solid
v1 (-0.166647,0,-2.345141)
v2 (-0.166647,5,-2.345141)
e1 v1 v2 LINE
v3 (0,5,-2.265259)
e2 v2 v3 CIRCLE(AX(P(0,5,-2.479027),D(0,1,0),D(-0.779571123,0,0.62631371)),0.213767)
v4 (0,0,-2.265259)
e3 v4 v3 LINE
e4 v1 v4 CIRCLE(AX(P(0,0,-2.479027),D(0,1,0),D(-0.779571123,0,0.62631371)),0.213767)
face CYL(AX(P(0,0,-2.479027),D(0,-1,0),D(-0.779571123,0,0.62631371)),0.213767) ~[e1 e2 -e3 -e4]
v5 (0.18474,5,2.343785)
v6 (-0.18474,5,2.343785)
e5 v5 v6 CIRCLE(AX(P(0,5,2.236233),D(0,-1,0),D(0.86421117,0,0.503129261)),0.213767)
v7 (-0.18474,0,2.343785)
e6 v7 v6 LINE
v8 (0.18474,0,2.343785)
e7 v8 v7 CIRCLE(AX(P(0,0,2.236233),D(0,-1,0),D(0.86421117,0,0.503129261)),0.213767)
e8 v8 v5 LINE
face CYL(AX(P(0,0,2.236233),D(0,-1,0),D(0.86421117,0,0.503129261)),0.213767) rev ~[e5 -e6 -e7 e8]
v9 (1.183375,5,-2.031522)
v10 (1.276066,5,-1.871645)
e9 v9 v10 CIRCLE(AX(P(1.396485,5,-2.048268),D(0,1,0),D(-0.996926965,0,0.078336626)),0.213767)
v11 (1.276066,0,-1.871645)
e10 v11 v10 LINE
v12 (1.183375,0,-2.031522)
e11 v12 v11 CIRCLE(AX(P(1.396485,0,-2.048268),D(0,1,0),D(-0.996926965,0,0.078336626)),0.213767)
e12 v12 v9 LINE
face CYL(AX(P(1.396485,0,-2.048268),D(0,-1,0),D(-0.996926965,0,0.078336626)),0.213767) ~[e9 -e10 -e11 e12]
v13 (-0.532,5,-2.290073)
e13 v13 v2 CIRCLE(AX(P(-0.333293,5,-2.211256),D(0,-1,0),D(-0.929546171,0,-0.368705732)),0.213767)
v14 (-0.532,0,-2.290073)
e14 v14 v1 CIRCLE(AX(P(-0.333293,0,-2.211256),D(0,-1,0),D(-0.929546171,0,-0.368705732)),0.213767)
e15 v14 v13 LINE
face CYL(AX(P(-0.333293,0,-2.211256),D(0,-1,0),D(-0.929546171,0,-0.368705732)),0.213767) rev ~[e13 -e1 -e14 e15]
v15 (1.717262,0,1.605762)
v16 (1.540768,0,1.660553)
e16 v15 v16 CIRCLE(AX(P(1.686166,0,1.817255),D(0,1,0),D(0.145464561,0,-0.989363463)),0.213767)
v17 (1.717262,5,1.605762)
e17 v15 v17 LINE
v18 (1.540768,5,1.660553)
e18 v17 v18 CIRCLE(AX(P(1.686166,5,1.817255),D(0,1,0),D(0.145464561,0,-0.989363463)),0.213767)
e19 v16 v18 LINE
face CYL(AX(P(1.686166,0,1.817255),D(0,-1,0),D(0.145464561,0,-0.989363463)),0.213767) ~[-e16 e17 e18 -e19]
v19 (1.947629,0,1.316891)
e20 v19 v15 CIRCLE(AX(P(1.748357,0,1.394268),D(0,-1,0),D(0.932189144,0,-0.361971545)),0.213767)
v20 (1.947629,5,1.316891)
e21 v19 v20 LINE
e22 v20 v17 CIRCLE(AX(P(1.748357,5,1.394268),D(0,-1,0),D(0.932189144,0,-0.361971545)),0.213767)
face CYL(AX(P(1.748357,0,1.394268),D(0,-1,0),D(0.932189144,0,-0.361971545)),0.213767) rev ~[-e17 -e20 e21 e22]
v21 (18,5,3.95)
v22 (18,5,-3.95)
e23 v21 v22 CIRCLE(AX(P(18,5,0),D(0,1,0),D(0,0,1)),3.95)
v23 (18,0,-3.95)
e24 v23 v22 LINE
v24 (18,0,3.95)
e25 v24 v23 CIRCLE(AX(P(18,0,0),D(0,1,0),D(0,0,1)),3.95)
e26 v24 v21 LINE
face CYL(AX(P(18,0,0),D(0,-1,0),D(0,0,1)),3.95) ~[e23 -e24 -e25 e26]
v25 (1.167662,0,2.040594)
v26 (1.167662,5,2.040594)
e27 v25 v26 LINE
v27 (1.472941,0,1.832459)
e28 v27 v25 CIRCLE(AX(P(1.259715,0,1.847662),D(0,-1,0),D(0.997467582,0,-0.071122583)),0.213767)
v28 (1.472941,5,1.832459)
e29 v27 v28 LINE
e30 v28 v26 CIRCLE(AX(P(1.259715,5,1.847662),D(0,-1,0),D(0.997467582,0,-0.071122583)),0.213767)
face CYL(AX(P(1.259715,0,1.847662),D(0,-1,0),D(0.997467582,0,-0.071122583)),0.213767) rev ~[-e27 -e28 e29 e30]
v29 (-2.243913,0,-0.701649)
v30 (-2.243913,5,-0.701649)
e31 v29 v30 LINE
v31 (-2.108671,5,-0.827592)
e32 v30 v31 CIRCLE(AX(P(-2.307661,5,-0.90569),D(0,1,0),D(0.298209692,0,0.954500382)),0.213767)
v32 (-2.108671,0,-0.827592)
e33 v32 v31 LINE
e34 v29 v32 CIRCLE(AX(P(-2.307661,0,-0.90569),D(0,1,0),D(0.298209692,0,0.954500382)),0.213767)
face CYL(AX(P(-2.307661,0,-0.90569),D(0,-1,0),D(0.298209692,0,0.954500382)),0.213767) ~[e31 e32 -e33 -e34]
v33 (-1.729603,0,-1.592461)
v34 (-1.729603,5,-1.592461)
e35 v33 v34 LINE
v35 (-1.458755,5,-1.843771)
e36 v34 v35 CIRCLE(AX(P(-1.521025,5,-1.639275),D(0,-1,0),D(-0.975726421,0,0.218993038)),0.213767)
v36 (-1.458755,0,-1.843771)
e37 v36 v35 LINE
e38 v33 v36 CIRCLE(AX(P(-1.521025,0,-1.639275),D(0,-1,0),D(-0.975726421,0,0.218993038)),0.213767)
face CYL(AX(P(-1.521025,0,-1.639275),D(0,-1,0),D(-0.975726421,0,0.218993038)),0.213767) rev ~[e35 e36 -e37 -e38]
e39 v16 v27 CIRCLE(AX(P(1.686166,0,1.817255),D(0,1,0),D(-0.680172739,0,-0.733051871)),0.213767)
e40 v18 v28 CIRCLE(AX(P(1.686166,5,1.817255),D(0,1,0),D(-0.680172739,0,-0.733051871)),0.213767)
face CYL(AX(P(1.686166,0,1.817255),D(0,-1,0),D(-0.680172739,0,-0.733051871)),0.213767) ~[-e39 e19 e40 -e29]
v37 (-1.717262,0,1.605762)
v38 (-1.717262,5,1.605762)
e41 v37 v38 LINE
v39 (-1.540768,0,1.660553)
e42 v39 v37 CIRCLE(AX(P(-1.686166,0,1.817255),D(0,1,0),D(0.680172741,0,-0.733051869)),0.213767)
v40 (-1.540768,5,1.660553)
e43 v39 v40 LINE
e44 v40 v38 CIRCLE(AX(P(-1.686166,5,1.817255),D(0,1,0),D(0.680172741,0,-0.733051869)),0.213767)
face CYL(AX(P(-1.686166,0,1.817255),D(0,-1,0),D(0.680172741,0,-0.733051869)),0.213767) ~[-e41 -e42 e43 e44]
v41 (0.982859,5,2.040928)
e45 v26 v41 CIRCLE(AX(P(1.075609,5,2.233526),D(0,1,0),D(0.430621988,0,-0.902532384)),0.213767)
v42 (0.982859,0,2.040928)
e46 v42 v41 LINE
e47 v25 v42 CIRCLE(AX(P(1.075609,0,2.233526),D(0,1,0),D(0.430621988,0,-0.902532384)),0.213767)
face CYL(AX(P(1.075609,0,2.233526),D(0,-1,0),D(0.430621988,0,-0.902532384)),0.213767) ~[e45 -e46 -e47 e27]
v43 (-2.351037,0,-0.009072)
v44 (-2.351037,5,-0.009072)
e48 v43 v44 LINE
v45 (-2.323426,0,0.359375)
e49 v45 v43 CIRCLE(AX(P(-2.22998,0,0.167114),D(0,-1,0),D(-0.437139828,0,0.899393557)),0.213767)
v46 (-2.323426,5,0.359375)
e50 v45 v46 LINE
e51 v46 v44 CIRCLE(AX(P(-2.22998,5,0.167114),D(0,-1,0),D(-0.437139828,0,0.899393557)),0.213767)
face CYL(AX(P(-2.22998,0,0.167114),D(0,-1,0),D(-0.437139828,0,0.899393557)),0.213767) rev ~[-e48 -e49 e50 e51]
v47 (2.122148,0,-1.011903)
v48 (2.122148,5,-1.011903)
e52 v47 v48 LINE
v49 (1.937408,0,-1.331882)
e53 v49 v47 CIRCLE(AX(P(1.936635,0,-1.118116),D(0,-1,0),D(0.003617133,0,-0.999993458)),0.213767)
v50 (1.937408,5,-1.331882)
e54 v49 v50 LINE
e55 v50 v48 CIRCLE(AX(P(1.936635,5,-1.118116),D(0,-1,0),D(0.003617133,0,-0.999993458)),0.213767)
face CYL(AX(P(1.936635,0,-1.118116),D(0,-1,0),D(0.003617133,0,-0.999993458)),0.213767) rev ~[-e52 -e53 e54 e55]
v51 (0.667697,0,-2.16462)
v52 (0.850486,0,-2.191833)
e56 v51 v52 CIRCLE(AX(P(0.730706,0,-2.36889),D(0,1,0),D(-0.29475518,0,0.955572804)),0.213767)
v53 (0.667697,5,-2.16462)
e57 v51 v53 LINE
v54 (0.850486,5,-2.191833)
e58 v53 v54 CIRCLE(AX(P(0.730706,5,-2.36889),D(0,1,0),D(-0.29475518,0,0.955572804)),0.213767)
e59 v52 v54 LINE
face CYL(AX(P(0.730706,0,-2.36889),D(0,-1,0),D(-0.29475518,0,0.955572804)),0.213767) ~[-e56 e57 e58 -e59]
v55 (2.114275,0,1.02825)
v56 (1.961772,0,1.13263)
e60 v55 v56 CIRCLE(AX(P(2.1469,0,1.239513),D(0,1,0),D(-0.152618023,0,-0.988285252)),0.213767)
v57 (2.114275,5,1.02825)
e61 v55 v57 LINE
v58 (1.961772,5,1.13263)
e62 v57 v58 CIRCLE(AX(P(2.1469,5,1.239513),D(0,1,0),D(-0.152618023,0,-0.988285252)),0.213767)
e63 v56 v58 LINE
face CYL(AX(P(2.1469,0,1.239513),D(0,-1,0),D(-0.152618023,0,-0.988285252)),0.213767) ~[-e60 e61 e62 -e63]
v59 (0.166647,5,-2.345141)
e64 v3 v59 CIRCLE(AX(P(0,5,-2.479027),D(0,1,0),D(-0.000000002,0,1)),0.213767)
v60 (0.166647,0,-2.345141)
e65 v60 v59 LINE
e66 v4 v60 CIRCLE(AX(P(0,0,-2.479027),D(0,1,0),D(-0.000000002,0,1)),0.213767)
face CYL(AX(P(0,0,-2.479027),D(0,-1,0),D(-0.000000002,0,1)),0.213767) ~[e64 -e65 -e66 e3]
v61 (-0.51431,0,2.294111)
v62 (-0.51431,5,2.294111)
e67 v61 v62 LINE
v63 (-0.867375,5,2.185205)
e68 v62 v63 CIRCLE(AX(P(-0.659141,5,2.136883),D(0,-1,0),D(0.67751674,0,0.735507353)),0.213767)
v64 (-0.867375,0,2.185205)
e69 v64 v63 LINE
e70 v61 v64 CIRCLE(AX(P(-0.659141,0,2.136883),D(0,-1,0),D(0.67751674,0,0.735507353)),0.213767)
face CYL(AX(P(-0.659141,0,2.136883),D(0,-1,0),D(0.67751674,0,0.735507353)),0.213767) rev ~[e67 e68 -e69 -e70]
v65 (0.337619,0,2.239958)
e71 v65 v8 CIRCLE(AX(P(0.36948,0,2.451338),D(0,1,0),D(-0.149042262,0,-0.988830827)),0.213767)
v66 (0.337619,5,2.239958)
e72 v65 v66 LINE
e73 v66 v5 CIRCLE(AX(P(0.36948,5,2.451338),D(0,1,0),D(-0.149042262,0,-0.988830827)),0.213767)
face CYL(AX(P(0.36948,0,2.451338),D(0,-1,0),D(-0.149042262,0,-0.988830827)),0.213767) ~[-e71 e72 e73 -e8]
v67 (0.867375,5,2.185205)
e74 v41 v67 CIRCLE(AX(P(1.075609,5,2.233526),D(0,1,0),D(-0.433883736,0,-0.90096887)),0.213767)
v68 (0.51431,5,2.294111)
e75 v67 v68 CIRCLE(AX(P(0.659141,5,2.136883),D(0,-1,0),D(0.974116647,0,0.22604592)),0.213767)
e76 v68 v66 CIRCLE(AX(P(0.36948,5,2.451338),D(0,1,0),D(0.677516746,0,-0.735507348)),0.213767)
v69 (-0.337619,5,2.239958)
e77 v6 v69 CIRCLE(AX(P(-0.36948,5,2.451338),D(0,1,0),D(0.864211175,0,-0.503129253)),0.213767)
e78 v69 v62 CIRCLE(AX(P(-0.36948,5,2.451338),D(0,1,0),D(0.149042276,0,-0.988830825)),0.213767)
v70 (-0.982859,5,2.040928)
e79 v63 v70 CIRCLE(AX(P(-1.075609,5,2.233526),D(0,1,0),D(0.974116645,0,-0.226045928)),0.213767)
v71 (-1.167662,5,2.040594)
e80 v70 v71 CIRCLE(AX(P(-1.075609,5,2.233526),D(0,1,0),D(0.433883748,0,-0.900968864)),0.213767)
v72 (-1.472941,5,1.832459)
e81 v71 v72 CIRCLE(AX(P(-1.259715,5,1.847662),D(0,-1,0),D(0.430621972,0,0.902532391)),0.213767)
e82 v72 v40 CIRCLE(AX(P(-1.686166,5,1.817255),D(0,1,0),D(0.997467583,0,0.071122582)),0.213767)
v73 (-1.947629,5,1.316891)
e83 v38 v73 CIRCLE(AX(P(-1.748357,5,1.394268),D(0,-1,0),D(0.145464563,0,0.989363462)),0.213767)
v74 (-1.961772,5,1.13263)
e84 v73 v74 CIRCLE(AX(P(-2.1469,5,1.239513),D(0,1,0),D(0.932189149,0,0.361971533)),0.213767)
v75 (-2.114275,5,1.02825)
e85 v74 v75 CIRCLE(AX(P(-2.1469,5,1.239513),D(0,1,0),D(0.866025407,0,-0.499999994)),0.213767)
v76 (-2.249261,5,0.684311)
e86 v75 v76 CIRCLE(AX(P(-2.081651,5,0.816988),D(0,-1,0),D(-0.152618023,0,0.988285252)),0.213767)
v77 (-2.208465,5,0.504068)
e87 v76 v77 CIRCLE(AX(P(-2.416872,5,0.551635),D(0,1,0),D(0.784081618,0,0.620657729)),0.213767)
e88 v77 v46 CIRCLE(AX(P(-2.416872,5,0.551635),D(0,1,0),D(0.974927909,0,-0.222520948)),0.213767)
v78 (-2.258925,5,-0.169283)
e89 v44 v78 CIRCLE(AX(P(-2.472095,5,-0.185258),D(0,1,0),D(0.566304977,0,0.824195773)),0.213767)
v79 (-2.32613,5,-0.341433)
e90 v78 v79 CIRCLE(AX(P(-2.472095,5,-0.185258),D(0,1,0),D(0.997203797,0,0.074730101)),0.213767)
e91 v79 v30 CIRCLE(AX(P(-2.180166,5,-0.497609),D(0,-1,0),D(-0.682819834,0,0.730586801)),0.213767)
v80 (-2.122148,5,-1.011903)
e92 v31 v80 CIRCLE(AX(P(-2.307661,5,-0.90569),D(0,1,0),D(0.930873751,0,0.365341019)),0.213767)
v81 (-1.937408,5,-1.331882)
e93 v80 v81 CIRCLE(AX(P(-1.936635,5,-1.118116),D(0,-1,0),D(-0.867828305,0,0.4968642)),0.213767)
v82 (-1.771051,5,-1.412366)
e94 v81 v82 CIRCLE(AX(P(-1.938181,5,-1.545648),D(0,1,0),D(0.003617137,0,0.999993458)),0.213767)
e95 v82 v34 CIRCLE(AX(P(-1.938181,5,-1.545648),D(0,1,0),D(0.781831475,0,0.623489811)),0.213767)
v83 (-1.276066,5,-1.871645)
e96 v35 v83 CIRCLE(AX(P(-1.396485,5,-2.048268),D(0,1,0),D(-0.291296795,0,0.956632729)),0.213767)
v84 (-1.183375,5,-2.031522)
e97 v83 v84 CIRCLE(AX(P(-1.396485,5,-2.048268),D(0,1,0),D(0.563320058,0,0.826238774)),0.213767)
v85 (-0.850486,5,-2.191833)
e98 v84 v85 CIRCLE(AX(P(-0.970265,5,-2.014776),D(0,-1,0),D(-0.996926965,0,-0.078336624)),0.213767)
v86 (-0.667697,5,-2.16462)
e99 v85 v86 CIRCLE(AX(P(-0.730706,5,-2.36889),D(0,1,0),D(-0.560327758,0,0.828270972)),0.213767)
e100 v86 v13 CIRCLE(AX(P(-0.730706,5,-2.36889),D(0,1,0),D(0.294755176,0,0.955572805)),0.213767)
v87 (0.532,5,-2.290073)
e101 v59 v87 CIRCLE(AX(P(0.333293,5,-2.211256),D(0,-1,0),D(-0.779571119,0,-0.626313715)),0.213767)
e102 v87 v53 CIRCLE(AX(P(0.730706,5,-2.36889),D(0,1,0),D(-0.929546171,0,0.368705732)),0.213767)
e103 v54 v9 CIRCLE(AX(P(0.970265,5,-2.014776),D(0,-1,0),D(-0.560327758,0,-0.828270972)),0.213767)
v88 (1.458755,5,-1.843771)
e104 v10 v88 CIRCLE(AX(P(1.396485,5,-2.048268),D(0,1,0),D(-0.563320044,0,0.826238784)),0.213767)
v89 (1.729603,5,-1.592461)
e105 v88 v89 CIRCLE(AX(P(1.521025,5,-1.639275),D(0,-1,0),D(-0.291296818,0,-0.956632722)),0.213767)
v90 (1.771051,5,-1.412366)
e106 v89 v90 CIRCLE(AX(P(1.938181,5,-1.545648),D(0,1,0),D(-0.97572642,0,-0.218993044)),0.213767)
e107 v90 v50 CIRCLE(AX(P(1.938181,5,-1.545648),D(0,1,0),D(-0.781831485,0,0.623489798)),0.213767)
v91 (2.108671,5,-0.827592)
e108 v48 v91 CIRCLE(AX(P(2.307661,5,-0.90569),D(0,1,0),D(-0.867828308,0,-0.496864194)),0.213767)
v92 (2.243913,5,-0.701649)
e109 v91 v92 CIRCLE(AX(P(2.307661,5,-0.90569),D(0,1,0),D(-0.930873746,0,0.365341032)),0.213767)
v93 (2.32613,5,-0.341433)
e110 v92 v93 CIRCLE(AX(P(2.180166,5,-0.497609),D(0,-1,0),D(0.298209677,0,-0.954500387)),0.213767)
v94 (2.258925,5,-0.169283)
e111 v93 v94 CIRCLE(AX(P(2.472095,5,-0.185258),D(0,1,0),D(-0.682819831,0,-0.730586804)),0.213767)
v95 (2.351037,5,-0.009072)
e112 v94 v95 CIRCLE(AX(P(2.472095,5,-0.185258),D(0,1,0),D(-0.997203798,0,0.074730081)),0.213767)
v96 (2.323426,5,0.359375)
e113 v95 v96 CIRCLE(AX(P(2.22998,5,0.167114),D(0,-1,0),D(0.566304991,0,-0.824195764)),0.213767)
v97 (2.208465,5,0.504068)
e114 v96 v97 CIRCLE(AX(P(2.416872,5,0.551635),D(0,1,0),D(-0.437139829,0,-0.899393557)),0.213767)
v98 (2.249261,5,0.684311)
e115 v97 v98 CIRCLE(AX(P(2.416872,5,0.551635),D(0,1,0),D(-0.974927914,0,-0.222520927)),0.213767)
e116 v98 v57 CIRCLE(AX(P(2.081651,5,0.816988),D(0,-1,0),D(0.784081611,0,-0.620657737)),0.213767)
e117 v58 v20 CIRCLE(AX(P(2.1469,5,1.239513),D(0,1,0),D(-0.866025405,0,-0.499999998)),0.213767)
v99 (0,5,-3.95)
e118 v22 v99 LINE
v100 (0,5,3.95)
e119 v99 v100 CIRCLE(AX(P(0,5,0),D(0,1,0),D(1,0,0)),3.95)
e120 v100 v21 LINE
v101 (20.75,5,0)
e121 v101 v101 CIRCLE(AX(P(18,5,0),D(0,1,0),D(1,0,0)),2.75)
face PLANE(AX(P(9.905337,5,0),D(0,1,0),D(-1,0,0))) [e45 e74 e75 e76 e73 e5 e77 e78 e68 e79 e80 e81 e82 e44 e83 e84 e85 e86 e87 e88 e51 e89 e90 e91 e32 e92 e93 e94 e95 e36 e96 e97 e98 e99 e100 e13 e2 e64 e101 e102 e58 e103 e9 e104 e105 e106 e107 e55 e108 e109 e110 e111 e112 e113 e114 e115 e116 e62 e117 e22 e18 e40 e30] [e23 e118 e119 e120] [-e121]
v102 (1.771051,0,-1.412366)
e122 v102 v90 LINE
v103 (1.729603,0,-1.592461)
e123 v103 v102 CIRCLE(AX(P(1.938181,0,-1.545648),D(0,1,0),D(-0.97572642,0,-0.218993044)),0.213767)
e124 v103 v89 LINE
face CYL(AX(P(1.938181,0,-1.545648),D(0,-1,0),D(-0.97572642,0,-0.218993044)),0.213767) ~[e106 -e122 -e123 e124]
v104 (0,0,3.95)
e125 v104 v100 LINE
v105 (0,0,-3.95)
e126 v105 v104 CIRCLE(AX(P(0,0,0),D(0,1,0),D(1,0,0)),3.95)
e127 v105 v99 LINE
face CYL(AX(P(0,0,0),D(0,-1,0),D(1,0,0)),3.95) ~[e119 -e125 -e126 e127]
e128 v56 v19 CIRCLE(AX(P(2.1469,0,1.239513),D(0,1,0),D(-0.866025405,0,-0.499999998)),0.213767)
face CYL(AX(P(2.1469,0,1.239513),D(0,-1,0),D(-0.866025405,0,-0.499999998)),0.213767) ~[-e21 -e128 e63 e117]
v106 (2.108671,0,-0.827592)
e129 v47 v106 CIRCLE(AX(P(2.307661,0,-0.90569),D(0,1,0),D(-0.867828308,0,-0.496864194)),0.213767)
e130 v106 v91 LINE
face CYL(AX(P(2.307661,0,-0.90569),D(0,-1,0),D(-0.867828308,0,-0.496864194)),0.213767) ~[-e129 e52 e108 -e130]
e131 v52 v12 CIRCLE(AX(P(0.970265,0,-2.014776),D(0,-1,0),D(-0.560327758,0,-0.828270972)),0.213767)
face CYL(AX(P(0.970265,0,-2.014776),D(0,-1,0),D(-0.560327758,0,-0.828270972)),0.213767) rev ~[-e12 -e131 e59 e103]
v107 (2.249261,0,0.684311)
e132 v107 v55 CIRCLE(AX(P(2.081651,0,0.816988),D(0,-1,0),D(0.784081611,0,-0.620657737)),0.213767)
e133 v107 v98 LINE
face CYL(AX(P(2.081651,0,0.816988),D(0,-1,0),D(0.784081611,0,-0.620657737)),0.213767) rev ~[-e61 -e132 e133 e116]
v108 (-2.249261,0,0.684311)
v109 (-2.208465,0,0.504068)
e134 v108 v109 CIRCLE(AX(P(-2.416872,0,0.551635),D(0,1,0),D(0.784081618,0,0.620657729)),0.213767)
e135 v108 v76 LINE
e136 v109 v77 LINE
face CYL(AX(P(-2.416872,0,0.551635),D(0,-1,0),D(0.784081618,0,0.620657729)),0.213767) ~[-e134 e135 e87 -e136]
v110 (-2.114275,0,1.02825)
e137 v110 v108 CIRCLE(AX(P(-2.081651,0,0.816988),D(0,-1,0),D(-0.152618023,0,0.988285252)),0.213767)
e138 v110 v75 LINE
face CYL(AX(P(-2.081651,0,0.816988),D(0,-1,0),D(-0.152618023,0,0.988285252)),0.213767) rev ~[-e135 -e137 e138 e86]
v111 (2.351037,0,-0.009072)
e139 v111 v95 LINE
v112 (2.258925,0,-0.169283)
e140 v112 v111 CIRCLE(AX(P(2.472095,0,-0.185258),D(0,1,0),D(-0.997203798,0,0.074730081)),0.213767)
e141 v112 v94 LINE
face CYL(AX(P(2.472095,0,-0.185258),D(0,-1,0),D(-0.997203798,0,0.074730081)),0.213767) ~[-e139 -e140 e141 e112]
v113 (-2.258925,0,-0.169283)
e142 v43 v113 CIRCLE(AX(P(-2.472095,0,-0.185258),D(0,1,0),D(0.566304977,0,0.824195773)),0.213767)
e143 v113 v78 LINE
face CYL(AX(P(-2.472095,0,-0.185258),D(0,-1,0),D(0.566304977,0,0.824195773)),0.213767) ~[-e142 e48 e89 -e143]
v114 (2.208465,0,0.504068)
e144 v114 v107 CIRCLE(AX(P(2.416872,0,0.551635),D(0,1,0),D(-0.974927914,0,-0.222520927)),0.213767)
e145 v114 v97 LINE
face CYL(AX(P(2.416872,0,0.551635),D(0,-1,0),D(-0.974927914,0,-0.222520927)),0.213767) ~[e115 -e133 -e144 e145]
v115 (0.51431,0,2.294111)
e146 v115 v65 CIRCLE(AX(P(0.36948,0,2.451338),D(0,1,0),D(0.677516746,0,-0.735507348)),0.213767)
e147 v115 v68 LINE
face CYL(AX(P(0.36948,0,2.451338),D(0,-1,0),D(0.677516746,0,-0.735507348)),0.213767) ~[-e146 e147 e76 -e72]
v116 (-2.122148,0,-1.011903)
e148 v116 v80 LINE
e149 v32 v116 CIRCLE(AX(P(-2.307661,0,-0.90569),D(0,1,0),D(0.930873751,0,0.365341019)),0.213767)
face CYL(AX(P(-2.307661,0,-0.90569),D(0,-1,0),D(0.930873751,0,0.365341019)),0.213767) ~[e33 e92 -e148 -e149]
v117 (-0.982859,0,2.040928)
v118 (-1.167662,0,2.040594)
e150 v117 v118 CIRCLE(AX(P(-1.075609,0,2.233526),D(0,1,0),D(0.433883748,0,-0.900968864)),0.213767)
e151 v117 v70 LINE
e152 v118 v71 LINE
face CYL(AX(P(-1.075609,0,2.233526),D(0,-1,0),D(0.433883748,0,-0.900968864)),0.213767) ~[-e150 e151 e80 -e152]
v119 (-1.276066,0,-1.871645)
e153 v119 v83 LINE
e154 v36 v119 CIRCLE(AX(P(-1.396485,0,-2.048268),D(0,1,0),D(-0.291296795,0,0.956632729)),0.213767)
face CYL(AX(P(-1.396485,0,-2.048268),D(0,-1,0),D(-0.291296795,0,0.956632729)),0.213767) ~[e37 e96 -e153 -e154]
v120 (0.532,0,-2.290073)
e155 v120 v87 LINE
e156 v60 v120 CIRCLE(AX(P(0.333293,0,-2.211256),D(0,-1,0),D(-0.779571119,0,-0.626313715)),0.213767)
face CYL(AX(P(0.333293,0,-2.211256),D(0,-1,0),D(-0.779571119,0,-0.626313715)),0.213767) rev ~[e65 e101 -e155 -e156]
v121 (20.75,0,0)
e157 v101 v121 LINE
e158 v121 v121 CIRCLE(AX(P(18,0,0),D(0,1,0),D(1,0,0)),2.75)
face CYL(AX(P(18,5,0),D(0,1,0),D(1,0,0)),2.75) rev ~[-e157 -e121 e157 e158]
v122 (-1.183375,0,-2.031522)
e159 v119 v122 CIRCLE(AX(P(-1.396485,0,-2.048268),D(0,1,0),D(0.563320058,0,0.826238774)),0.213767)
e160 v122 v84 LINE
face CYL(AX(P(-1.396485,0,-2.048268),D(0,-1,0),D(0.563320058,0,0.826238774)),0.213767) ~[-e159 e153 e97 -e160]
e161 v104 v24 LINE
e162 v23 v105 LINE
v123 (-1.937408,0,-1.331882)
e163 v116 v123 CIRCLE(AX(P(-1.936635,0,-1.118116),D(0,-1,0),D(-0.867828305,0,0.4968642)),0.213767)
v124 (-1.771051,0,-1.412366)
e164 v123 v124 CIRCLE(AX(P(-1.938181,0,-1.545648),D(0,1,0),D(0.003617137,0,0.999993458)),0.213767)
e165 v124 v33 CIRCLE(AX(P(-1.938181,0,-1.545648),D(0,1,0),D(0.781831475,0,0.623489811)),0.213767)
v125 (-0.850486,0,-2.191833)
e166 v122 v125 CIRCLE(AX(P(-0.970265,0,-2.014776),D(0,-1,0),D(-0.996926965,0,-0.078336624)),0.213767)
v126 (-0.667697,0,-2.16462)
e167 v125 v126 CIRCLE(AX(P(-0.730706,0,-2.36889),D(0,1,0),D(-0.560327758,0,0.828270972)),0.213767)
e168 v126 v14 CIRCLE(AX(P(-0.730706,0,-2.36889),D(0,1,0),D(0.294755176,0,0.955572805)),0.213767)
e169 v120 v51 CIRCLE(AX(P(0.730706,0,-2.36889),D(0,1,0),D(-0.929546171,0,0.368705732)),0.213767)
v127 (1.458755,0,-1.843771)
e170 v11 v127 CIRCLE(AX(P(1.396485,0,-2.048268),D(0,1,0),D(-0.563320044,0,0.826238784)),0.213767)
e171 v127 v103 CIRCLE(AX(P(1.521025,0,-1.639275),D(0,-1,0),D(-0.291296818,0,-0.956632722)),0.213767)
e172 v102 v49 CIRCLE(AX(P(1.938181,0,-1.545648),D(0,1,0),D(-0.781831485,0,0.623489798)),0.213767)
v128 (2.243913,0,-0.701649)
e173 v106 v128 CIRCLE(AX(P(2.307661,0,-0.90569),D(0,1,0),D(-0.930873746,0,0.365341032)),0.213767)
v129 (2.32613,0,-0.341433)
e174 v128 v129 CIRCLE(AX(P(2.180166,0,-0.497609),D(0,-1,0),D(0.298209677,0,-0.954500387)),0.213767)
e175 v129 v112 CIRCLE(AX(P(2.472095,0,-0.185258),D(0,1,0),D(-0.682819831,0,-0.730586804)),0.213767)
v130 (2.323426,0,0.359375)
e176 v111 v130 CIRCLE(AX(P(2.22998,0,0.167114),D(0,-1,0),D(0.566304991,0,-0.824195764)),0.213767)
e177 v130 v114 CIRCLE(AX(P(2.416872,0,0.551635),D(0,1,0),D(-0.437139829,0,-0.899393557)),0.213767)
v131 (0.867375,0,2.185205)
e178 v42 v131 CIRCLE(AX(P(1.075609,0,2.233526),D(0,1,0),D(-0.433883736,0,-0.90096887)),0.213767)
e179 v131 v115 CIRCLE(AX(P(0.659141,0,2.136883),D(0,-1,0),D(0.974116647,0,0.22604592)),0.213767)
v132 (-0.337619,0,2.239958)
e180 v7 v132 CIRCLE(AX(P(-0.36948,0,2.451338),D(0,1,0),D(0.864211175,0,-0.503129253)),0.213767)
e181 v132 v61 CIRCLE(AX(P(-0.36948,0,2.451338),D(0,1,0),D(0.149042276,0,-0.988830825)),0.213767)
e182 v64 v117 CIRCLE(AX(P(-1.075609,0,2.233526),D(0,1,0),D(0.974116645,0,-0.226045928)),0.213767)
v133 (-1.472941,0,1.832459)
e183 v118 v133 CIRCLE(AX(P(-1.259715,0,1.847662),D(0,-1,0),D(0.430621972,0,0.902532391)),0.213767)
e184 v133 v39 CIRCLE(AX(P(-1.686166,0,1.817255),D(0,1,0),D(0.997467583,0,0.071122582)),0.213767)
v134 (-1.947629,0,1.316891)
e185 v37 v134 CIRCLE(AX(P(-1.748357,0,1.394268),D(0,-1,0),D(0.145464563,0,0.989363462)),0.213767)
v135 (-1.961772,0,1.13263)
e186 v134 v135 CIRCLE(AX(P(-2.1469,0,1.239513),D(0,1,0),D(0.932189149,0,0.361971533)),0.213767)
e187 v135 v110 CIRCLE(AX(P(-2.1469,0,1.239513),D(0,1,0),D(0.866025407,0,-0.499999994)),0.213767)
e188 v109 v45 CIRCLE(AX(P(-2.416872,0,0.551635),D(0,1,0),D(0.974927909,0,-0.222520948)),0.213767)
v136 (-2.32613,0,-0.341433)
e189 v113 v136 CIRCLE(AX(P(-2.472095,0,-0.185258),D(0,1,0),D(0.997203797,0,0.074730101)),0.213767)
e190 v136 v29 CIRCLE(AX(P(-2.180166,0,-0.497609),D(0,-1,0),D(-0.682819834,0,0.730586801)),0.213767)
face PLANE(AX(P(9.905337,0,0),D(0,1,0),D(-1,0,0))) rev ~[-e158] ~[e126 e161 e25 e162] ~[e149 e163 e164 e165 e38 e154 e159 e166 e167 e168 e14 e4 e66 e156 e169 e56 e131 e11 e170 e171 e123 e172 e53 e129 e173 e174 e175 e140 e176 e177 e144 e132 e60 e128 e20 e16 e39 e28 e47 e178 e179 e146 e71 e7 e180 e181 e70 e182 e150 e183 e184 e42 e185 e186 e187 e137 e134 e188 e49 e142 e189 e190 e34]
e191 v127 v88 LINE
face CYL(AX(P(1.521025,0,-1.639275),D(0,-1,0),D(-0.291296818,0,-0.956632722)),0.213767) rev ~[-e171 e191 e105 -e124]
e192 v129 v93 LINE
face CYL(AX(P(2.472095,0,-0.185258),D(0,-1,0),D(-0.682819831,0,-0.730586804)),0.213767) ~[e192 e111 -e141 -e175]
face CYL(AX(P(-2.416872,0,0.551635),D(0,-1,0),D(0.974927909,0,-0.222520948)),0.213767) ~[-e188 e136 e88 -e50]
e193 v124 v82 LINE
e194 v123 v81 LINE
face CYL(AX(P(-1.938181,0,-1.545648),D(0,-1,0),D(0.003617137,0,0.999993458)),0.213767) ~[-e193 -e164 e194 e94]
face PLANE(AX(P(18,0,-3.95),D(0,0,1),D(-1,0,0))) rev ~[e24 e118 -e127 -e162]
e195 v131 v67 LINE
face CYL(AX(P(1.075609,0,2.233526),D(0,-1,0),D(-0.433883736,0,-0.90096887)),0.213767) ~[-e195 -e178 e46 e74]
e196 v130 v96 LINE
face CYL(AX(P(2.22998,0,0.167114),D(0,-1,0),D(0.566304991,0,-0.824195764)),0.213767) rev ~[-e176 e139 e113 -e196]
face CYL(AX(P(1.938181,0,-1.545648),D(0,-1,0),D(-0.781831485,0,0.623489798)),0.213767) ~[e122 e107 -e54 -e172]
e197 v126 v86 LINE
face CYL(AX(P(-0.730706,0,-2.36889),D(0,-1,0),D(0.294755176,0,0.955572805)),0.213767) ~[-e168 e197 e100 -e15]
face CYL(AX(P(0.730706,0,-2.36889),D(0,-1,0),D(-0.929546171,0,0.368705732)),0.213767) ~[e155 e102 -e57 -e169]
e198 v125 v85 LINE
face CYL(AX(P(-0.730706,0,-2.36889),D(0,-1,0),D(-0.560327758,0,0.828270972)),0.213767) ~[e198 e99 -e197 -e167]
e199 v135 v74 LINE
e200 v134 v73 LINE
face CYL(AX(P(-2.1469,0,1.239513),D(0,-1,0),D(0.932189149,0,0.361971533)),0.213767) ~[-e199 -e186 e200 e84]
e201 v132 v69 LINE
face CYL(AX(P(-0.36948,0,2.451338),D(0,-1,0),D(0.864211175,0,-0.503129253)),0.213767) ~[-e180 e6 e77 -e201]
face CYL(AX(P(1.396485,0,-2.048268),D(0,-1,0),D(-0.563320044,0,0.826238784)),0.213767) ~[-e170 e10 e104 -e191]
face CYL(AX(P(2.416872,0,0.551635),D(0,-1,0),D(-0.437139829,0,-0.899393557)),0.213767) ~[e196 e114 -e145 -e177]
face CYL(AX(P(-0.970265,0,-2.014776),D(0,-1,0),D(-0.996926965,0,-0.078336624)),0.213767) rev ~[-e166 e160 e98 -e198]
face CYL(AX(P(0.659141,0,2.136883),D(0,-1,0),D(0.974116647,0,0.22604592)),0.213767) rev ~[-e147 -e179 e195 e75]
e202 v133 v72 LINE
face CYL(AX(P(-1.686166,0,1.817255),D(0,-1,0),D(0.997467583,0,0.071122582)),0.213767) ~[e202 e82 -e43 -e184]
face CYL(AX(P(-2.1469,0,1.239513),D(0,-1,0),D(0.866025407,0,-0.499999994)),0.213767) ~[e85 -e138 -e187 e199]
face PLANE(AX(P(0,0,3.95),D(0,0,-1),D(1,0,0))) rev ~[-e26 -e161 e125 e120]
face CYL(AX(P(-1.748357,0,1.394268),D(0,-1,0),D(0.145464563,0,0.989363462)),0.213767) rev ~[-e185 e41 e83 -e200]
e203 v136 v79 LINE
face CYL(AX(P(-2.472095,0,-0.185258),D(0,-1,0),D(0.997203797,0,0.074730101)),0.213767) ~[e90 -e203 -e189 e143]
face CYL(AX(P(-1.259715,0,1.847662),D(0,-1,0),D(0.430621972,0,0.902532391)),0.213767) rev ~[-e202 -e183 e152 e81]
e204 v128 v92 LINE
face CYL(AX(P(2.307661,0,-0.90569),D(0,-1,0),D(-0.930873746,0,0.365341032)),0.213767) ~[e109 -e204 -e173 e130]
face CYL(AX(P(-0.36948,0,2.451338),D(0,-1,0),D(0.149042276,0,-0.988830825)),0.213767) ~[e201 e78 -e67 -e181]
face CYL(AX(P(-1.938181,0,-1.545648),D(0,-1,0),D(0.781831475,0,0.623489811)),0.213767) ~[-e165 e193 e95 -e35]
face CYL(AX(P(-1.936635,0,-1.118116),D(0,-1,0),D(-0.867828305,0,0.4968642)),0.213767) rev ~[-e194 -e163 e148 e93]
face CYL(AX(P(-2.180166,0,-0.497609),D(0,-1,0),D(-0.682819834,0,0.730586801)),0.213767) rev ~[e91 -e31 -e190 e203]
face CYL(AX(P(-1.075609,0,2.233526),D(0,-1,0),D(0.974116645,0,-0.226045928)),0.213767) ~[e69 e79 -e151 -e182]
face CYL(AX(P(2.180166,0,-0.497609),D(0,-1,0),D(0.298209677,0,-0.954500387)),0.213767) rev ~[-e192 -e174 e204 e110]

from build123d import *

# Parameters (mm, degrees)
SKETCH1_R           = 3.95
BOSS_EXTRUDE1_DEPTH = 5
BOSS_EXTRUDE2_DEPTH = 5
SKETCH3_R           = 2.75
CUT_EXTRUDE1_DEPTH  = 5


with BuildPart() as part:
    # Sketch1 → Boss-Extrude1 (new body)
    with BuildSketch(Plane(origin=(0, 0, 0), x_dir=(1, 0, 0), z_dir=(0, 1, 0))):
        Circle(SKETCH1_R)
        with BuildLine():
            ThreePointArc((-0.166646614, 2.345141313), (-0.092401566, 2.286261662), (0, 2.2652595))
            ThreePointArc((0, 2.2652595), (0.092401566, 2.286261662), (0.166646614, 2.345141313))
            ThreePointArc((0.166646614, 2.345141313), (0.365153552, 2.422635524), (0.531999564, 2.290073216))
            ThreePointArc((0.531999564, 2.290073216), (0.585591031, 2.211925311), (0.667696959, 2.164620376))
            ThreePointArc((0.667696959, 2.164620376), (0.762183879, 2.157453631), (0.850485509, 2.191833312))
            ThreePointArc((0.850485509, 2.191833312), (1.063015161, 2.207373726), (1.183375246, 2.031522064))
            ThreePointArc((1.183375246, 2.031522064), (1.211551295, 1.941049689), (1.276066113, 1.871645232))
            ThreePointArc((1.276066113, 1.871645232), (1.364242809, 1.836946378), (1.458755034, 1.843771303))
            ThreePointArc((1.458755034, 1.843771303), (1.666423208, 1.795977086), (1.729602845, 1.592461261))
            ThreePointArc((1.729602845, 1.592461261), (1.72985991, 1.497703284), (1.771051193, 1.412366197))
            ThreePointArc((1.771051193, 1.412366197), (1.845082779, 1.353218377), (1.937407773, 1.331882123))
            ThreePointArc((1.937407773, 1.331882123), (2.121762239, 1.225), (2.12214764, 1.011903287))
            ThreePointArc((2.12214764, 1.011903287), (2.094462881, 0.92127937), (2.108670602, 0.827592226))
            ThreePointArc((2.108670602, 0.827592226), (2.161979047, 0.749250985), (2.243913329, 0.701649371))
            ThreePointArc((2.243913329, 0.701649371), (2.388573385, 0.545176288), (2.326130305, 0.341433266))
            ThreePointArc((2.326130305, 0.341433266), (2.272963633, 0.262995741), (2.258925375, 0.169283054))
            ThreePointArc((2.258925375, 0.169283054), (2.286773988, 0.078709355), (2.351037339, 0.009071994))
            ThreePointArc((2.351037339, 0.009071994), (2.443149303, -0.183088729), (2.323426084, -0.3593746))
            ThreePointArc((2.323426084, -0.3593746), (2.249501592, -0.418656214), (2.208464714, -0.504067659))
            ThreePointArc((2.208464714, -0.504067659), (2.208379026, -0.598825947), (2.249261363, -0.68431147))
            ThreePointArc((2.249261363, -0.68431147), (2.280640684, -0.89508551), (2.114275259, -1.028250455))
            ThreePointArc((2.114275259, -1.028250455), (2.026161462, -1.063108727), (1.961772273, -1.13262975))
            ThreePointArc((1.961772273, -1.13262975), (1.933759896, -1.223152935), (1.947628645, -1.316890857))
            ThreePointArc((1.947628645, -1.316890857), (1.915487132, -1.527550015), (1.717261799, -1.605761745))
            ThreePointArc((1.717261799, -1.605761745), (1.622787995, -1.613099364), (1.540767756, -1.660552716))
            ThreePointArc((1.540767756, -1.660552716), (1.487317713, -1.738797417), (1.472940575, -1.832458712))
            ThreePointArc((1.472940575, -1.832458712), (1.380134142, -2.024284997), (1.167662092, -2.040594058))
            ThreePointArc((1.167662092, -2.040594058), (1.075222693, -2.019759044), (0.982859262, -2.040928287))
            ThreePointArc((0.982859262, -2.040928287), (0.908720824, -2.099942118), (0.86737527, -2.185204569))
            ThreePointArc((0.86737527, -2.185204569), (0.722150177, -2.341153374), (0.514310485, -2.294110633))
            ThreePointArc((0.514310485, -2.294110633), (0.432119136, -2.246954269), (0.337619409, -2.239958423))
            ThreePointArc((0.337619409, -2.239958423), (0.249380102, -2.274497747), (0.184739867, -2.343785411))
            ThreePointArc((0.184739867, -2.343785411), (0, -2.45), (-0.184739867, -2.343785411))
            ThreePointArc((-0.184739867, -2.343785411), (-0.249380102, -2.274497747), (-0.337619409, -2.239958423))
            ThreePointArc((-0.337619409, -2.239958423), (-0.432119136, -2.246954269), (-0.514310485, -2.294110633))
            ThreePointArc((-0.514310485, -2.294110633), (-0.722150177, -2.341153374), (-0.86737527, -2.185204569))
            ThreePointArc((-0.86737527, -2.185204569), (-0.908720824, -2.099942118), (-0.982859262, -2.040928287))
            ThreePointArc((-0.982859262, -2.040928287), (-1.075222693, -2.019759044), (-1.167662092, -2.040594058))
            ThreePointArc((-1.167662092, -2.040594058), (-1.380134142, -2.024284997), (-1.472940575, -1.832458712))
            ThreePointArc((-1.472940575, -1.832458712), (-1.487317713, -1.738797417), (-1.540767756, -1.660552716))
            ThreePointArc((-1.540767756, -1.660552716), (-1.622787995, -1.613099364), (-1.717261799, -1.605761745))
            ThreePointArc((-1.717261799, -1.605761745), (-1.915487132, -1.527550015), (-1.947628645, -1.316890857))
            ThreePointArc((-1.947628645, -1.316890857), (-1.933759896, -1.223152935), (-1.961772273, -1.13262975))
            ThreePointArc((-1.961772273, -1.13262975), (-2.026161462, -1.063108727), (-2.114275259, -1.028250455))
            ThreePointArc((-2.114275259, -1.028250455), (-2.280640684, -0.89508551), (-2.249261363, -0.68431147))
            ThreePointArc((-2.249261363, -0.68431147), (-2.208379026, -0.598825947), (-2.208464714, -0.504067659))
            ThreePointArc((-2.208464714, -0.504067659), (-2.249501592, -0.418656214), (-2.323426084, -0.3593746))
            ThreePointArc((-2.323426084, -0.3593746), (-2.443149303, -0.183088729), (-2.351037339, 0.009071994))
            ThreePointArc((-2.351037339, 0.009071994), (-2.286773988, 0.078709355), (-2.258925375, 0.169283054))
            ThreePointArc((-2.258925375, 0.169283054), (-2.272963633, 0.262995741), (-2.326130305, 0.341433266))
            ThreePointArc((-2.326130305, 0.341433266), (-2.388573385, 0.545176288), (-2.243913329, 0.701649371))
            ThreePointArc((-2.243913329, 0.701649371), (-2.161979047, 0.749250985), (-2.108670602, 0.827592226))
            ThreePointArc((-2.108670602, 0.827592226), (-2.094462881, 0.92127937), (-2.12214764, 1.011903287))
            ThreePointArc((-2.12214764, 1.011903287), (-2.121762239, 1.225), (-1.937407773, 1.331882123))
            ThreePointArc((-1.937407773, 1.331882123), (-1.845082779, 1.353218377), (-1.771051193, 1.412366197))
            ThreePointArc((-1.771051193, 1.412366197), (-1.72985991, 1.497703284), (-1.729602845, 1.592461261))
            ThreePointArc((-1.729602845, 1.592461261), (-1.666423208, 1.795977086), (-1.458755034, 1.843771303))
            ThreePointArc((-1.458755034, 1.843771303), (-1.364242809, 1.836946378), (-1.276066113, 1.871645232))
            ThreePointArc((-1.276066113, 1.871645232), (-1.211551295, 1.941049689), (-1.183375246, 2.031522064))
            ThreePointArc((-1.183375246, 2.031522064), (-1.063015161, 2.207373726), (-0.850485509, 2.191833312))
            ThreePointArc((-0.850485509, 2.191833312), (-0.762183879, 2.157453631), (-0.667696959, 2.164620376))
            ThreePointArc((-0.667696959, 2.164620376), (-0.585591031, 2.211925311), (-0.531999564, 2.290073216))
            ThreePointArc((-0.531999564, 2.290073216), (-0.365153552, 2.422635524), (-0.166646614, 2.345141313))
        make_face(mode=Mode.SUBTRACT)
    extrude(amount=BOSS_EXTRUDE1_DEPTH)

    # Sketch2 → Boss-Extrude2 (add)
    with BuildSketch(Plane.XZ):
        with BuildLine():
            Line((0, 3.95), (18, 3.95))
            ThreePointArc((18, 3.95), (21.95, 0), (18, -3.95))
            Line((18, -3.95), (0, -3.95))
            ThreePointArc((0, -3.95), (3.95, 0), (0, 3.95))
        make_face()
    extrude(amount=-BOSS_EXTRUDE2_DEPTH)

    # Sketch3 → Cut-Extrude1 (cut)
    with BuildSketch(Plane(origin=(0, 5, 0), x_dir=(1, 0, 0), z_dir=(0, 1, 0))):
        with Locations((18, 0)):
            Circle(SKETCH3_R)
    extrude(amount=-CUT_EXTRUDE1_DEPTH, mode=Mode.SUBTRACT)


solid = part.part
